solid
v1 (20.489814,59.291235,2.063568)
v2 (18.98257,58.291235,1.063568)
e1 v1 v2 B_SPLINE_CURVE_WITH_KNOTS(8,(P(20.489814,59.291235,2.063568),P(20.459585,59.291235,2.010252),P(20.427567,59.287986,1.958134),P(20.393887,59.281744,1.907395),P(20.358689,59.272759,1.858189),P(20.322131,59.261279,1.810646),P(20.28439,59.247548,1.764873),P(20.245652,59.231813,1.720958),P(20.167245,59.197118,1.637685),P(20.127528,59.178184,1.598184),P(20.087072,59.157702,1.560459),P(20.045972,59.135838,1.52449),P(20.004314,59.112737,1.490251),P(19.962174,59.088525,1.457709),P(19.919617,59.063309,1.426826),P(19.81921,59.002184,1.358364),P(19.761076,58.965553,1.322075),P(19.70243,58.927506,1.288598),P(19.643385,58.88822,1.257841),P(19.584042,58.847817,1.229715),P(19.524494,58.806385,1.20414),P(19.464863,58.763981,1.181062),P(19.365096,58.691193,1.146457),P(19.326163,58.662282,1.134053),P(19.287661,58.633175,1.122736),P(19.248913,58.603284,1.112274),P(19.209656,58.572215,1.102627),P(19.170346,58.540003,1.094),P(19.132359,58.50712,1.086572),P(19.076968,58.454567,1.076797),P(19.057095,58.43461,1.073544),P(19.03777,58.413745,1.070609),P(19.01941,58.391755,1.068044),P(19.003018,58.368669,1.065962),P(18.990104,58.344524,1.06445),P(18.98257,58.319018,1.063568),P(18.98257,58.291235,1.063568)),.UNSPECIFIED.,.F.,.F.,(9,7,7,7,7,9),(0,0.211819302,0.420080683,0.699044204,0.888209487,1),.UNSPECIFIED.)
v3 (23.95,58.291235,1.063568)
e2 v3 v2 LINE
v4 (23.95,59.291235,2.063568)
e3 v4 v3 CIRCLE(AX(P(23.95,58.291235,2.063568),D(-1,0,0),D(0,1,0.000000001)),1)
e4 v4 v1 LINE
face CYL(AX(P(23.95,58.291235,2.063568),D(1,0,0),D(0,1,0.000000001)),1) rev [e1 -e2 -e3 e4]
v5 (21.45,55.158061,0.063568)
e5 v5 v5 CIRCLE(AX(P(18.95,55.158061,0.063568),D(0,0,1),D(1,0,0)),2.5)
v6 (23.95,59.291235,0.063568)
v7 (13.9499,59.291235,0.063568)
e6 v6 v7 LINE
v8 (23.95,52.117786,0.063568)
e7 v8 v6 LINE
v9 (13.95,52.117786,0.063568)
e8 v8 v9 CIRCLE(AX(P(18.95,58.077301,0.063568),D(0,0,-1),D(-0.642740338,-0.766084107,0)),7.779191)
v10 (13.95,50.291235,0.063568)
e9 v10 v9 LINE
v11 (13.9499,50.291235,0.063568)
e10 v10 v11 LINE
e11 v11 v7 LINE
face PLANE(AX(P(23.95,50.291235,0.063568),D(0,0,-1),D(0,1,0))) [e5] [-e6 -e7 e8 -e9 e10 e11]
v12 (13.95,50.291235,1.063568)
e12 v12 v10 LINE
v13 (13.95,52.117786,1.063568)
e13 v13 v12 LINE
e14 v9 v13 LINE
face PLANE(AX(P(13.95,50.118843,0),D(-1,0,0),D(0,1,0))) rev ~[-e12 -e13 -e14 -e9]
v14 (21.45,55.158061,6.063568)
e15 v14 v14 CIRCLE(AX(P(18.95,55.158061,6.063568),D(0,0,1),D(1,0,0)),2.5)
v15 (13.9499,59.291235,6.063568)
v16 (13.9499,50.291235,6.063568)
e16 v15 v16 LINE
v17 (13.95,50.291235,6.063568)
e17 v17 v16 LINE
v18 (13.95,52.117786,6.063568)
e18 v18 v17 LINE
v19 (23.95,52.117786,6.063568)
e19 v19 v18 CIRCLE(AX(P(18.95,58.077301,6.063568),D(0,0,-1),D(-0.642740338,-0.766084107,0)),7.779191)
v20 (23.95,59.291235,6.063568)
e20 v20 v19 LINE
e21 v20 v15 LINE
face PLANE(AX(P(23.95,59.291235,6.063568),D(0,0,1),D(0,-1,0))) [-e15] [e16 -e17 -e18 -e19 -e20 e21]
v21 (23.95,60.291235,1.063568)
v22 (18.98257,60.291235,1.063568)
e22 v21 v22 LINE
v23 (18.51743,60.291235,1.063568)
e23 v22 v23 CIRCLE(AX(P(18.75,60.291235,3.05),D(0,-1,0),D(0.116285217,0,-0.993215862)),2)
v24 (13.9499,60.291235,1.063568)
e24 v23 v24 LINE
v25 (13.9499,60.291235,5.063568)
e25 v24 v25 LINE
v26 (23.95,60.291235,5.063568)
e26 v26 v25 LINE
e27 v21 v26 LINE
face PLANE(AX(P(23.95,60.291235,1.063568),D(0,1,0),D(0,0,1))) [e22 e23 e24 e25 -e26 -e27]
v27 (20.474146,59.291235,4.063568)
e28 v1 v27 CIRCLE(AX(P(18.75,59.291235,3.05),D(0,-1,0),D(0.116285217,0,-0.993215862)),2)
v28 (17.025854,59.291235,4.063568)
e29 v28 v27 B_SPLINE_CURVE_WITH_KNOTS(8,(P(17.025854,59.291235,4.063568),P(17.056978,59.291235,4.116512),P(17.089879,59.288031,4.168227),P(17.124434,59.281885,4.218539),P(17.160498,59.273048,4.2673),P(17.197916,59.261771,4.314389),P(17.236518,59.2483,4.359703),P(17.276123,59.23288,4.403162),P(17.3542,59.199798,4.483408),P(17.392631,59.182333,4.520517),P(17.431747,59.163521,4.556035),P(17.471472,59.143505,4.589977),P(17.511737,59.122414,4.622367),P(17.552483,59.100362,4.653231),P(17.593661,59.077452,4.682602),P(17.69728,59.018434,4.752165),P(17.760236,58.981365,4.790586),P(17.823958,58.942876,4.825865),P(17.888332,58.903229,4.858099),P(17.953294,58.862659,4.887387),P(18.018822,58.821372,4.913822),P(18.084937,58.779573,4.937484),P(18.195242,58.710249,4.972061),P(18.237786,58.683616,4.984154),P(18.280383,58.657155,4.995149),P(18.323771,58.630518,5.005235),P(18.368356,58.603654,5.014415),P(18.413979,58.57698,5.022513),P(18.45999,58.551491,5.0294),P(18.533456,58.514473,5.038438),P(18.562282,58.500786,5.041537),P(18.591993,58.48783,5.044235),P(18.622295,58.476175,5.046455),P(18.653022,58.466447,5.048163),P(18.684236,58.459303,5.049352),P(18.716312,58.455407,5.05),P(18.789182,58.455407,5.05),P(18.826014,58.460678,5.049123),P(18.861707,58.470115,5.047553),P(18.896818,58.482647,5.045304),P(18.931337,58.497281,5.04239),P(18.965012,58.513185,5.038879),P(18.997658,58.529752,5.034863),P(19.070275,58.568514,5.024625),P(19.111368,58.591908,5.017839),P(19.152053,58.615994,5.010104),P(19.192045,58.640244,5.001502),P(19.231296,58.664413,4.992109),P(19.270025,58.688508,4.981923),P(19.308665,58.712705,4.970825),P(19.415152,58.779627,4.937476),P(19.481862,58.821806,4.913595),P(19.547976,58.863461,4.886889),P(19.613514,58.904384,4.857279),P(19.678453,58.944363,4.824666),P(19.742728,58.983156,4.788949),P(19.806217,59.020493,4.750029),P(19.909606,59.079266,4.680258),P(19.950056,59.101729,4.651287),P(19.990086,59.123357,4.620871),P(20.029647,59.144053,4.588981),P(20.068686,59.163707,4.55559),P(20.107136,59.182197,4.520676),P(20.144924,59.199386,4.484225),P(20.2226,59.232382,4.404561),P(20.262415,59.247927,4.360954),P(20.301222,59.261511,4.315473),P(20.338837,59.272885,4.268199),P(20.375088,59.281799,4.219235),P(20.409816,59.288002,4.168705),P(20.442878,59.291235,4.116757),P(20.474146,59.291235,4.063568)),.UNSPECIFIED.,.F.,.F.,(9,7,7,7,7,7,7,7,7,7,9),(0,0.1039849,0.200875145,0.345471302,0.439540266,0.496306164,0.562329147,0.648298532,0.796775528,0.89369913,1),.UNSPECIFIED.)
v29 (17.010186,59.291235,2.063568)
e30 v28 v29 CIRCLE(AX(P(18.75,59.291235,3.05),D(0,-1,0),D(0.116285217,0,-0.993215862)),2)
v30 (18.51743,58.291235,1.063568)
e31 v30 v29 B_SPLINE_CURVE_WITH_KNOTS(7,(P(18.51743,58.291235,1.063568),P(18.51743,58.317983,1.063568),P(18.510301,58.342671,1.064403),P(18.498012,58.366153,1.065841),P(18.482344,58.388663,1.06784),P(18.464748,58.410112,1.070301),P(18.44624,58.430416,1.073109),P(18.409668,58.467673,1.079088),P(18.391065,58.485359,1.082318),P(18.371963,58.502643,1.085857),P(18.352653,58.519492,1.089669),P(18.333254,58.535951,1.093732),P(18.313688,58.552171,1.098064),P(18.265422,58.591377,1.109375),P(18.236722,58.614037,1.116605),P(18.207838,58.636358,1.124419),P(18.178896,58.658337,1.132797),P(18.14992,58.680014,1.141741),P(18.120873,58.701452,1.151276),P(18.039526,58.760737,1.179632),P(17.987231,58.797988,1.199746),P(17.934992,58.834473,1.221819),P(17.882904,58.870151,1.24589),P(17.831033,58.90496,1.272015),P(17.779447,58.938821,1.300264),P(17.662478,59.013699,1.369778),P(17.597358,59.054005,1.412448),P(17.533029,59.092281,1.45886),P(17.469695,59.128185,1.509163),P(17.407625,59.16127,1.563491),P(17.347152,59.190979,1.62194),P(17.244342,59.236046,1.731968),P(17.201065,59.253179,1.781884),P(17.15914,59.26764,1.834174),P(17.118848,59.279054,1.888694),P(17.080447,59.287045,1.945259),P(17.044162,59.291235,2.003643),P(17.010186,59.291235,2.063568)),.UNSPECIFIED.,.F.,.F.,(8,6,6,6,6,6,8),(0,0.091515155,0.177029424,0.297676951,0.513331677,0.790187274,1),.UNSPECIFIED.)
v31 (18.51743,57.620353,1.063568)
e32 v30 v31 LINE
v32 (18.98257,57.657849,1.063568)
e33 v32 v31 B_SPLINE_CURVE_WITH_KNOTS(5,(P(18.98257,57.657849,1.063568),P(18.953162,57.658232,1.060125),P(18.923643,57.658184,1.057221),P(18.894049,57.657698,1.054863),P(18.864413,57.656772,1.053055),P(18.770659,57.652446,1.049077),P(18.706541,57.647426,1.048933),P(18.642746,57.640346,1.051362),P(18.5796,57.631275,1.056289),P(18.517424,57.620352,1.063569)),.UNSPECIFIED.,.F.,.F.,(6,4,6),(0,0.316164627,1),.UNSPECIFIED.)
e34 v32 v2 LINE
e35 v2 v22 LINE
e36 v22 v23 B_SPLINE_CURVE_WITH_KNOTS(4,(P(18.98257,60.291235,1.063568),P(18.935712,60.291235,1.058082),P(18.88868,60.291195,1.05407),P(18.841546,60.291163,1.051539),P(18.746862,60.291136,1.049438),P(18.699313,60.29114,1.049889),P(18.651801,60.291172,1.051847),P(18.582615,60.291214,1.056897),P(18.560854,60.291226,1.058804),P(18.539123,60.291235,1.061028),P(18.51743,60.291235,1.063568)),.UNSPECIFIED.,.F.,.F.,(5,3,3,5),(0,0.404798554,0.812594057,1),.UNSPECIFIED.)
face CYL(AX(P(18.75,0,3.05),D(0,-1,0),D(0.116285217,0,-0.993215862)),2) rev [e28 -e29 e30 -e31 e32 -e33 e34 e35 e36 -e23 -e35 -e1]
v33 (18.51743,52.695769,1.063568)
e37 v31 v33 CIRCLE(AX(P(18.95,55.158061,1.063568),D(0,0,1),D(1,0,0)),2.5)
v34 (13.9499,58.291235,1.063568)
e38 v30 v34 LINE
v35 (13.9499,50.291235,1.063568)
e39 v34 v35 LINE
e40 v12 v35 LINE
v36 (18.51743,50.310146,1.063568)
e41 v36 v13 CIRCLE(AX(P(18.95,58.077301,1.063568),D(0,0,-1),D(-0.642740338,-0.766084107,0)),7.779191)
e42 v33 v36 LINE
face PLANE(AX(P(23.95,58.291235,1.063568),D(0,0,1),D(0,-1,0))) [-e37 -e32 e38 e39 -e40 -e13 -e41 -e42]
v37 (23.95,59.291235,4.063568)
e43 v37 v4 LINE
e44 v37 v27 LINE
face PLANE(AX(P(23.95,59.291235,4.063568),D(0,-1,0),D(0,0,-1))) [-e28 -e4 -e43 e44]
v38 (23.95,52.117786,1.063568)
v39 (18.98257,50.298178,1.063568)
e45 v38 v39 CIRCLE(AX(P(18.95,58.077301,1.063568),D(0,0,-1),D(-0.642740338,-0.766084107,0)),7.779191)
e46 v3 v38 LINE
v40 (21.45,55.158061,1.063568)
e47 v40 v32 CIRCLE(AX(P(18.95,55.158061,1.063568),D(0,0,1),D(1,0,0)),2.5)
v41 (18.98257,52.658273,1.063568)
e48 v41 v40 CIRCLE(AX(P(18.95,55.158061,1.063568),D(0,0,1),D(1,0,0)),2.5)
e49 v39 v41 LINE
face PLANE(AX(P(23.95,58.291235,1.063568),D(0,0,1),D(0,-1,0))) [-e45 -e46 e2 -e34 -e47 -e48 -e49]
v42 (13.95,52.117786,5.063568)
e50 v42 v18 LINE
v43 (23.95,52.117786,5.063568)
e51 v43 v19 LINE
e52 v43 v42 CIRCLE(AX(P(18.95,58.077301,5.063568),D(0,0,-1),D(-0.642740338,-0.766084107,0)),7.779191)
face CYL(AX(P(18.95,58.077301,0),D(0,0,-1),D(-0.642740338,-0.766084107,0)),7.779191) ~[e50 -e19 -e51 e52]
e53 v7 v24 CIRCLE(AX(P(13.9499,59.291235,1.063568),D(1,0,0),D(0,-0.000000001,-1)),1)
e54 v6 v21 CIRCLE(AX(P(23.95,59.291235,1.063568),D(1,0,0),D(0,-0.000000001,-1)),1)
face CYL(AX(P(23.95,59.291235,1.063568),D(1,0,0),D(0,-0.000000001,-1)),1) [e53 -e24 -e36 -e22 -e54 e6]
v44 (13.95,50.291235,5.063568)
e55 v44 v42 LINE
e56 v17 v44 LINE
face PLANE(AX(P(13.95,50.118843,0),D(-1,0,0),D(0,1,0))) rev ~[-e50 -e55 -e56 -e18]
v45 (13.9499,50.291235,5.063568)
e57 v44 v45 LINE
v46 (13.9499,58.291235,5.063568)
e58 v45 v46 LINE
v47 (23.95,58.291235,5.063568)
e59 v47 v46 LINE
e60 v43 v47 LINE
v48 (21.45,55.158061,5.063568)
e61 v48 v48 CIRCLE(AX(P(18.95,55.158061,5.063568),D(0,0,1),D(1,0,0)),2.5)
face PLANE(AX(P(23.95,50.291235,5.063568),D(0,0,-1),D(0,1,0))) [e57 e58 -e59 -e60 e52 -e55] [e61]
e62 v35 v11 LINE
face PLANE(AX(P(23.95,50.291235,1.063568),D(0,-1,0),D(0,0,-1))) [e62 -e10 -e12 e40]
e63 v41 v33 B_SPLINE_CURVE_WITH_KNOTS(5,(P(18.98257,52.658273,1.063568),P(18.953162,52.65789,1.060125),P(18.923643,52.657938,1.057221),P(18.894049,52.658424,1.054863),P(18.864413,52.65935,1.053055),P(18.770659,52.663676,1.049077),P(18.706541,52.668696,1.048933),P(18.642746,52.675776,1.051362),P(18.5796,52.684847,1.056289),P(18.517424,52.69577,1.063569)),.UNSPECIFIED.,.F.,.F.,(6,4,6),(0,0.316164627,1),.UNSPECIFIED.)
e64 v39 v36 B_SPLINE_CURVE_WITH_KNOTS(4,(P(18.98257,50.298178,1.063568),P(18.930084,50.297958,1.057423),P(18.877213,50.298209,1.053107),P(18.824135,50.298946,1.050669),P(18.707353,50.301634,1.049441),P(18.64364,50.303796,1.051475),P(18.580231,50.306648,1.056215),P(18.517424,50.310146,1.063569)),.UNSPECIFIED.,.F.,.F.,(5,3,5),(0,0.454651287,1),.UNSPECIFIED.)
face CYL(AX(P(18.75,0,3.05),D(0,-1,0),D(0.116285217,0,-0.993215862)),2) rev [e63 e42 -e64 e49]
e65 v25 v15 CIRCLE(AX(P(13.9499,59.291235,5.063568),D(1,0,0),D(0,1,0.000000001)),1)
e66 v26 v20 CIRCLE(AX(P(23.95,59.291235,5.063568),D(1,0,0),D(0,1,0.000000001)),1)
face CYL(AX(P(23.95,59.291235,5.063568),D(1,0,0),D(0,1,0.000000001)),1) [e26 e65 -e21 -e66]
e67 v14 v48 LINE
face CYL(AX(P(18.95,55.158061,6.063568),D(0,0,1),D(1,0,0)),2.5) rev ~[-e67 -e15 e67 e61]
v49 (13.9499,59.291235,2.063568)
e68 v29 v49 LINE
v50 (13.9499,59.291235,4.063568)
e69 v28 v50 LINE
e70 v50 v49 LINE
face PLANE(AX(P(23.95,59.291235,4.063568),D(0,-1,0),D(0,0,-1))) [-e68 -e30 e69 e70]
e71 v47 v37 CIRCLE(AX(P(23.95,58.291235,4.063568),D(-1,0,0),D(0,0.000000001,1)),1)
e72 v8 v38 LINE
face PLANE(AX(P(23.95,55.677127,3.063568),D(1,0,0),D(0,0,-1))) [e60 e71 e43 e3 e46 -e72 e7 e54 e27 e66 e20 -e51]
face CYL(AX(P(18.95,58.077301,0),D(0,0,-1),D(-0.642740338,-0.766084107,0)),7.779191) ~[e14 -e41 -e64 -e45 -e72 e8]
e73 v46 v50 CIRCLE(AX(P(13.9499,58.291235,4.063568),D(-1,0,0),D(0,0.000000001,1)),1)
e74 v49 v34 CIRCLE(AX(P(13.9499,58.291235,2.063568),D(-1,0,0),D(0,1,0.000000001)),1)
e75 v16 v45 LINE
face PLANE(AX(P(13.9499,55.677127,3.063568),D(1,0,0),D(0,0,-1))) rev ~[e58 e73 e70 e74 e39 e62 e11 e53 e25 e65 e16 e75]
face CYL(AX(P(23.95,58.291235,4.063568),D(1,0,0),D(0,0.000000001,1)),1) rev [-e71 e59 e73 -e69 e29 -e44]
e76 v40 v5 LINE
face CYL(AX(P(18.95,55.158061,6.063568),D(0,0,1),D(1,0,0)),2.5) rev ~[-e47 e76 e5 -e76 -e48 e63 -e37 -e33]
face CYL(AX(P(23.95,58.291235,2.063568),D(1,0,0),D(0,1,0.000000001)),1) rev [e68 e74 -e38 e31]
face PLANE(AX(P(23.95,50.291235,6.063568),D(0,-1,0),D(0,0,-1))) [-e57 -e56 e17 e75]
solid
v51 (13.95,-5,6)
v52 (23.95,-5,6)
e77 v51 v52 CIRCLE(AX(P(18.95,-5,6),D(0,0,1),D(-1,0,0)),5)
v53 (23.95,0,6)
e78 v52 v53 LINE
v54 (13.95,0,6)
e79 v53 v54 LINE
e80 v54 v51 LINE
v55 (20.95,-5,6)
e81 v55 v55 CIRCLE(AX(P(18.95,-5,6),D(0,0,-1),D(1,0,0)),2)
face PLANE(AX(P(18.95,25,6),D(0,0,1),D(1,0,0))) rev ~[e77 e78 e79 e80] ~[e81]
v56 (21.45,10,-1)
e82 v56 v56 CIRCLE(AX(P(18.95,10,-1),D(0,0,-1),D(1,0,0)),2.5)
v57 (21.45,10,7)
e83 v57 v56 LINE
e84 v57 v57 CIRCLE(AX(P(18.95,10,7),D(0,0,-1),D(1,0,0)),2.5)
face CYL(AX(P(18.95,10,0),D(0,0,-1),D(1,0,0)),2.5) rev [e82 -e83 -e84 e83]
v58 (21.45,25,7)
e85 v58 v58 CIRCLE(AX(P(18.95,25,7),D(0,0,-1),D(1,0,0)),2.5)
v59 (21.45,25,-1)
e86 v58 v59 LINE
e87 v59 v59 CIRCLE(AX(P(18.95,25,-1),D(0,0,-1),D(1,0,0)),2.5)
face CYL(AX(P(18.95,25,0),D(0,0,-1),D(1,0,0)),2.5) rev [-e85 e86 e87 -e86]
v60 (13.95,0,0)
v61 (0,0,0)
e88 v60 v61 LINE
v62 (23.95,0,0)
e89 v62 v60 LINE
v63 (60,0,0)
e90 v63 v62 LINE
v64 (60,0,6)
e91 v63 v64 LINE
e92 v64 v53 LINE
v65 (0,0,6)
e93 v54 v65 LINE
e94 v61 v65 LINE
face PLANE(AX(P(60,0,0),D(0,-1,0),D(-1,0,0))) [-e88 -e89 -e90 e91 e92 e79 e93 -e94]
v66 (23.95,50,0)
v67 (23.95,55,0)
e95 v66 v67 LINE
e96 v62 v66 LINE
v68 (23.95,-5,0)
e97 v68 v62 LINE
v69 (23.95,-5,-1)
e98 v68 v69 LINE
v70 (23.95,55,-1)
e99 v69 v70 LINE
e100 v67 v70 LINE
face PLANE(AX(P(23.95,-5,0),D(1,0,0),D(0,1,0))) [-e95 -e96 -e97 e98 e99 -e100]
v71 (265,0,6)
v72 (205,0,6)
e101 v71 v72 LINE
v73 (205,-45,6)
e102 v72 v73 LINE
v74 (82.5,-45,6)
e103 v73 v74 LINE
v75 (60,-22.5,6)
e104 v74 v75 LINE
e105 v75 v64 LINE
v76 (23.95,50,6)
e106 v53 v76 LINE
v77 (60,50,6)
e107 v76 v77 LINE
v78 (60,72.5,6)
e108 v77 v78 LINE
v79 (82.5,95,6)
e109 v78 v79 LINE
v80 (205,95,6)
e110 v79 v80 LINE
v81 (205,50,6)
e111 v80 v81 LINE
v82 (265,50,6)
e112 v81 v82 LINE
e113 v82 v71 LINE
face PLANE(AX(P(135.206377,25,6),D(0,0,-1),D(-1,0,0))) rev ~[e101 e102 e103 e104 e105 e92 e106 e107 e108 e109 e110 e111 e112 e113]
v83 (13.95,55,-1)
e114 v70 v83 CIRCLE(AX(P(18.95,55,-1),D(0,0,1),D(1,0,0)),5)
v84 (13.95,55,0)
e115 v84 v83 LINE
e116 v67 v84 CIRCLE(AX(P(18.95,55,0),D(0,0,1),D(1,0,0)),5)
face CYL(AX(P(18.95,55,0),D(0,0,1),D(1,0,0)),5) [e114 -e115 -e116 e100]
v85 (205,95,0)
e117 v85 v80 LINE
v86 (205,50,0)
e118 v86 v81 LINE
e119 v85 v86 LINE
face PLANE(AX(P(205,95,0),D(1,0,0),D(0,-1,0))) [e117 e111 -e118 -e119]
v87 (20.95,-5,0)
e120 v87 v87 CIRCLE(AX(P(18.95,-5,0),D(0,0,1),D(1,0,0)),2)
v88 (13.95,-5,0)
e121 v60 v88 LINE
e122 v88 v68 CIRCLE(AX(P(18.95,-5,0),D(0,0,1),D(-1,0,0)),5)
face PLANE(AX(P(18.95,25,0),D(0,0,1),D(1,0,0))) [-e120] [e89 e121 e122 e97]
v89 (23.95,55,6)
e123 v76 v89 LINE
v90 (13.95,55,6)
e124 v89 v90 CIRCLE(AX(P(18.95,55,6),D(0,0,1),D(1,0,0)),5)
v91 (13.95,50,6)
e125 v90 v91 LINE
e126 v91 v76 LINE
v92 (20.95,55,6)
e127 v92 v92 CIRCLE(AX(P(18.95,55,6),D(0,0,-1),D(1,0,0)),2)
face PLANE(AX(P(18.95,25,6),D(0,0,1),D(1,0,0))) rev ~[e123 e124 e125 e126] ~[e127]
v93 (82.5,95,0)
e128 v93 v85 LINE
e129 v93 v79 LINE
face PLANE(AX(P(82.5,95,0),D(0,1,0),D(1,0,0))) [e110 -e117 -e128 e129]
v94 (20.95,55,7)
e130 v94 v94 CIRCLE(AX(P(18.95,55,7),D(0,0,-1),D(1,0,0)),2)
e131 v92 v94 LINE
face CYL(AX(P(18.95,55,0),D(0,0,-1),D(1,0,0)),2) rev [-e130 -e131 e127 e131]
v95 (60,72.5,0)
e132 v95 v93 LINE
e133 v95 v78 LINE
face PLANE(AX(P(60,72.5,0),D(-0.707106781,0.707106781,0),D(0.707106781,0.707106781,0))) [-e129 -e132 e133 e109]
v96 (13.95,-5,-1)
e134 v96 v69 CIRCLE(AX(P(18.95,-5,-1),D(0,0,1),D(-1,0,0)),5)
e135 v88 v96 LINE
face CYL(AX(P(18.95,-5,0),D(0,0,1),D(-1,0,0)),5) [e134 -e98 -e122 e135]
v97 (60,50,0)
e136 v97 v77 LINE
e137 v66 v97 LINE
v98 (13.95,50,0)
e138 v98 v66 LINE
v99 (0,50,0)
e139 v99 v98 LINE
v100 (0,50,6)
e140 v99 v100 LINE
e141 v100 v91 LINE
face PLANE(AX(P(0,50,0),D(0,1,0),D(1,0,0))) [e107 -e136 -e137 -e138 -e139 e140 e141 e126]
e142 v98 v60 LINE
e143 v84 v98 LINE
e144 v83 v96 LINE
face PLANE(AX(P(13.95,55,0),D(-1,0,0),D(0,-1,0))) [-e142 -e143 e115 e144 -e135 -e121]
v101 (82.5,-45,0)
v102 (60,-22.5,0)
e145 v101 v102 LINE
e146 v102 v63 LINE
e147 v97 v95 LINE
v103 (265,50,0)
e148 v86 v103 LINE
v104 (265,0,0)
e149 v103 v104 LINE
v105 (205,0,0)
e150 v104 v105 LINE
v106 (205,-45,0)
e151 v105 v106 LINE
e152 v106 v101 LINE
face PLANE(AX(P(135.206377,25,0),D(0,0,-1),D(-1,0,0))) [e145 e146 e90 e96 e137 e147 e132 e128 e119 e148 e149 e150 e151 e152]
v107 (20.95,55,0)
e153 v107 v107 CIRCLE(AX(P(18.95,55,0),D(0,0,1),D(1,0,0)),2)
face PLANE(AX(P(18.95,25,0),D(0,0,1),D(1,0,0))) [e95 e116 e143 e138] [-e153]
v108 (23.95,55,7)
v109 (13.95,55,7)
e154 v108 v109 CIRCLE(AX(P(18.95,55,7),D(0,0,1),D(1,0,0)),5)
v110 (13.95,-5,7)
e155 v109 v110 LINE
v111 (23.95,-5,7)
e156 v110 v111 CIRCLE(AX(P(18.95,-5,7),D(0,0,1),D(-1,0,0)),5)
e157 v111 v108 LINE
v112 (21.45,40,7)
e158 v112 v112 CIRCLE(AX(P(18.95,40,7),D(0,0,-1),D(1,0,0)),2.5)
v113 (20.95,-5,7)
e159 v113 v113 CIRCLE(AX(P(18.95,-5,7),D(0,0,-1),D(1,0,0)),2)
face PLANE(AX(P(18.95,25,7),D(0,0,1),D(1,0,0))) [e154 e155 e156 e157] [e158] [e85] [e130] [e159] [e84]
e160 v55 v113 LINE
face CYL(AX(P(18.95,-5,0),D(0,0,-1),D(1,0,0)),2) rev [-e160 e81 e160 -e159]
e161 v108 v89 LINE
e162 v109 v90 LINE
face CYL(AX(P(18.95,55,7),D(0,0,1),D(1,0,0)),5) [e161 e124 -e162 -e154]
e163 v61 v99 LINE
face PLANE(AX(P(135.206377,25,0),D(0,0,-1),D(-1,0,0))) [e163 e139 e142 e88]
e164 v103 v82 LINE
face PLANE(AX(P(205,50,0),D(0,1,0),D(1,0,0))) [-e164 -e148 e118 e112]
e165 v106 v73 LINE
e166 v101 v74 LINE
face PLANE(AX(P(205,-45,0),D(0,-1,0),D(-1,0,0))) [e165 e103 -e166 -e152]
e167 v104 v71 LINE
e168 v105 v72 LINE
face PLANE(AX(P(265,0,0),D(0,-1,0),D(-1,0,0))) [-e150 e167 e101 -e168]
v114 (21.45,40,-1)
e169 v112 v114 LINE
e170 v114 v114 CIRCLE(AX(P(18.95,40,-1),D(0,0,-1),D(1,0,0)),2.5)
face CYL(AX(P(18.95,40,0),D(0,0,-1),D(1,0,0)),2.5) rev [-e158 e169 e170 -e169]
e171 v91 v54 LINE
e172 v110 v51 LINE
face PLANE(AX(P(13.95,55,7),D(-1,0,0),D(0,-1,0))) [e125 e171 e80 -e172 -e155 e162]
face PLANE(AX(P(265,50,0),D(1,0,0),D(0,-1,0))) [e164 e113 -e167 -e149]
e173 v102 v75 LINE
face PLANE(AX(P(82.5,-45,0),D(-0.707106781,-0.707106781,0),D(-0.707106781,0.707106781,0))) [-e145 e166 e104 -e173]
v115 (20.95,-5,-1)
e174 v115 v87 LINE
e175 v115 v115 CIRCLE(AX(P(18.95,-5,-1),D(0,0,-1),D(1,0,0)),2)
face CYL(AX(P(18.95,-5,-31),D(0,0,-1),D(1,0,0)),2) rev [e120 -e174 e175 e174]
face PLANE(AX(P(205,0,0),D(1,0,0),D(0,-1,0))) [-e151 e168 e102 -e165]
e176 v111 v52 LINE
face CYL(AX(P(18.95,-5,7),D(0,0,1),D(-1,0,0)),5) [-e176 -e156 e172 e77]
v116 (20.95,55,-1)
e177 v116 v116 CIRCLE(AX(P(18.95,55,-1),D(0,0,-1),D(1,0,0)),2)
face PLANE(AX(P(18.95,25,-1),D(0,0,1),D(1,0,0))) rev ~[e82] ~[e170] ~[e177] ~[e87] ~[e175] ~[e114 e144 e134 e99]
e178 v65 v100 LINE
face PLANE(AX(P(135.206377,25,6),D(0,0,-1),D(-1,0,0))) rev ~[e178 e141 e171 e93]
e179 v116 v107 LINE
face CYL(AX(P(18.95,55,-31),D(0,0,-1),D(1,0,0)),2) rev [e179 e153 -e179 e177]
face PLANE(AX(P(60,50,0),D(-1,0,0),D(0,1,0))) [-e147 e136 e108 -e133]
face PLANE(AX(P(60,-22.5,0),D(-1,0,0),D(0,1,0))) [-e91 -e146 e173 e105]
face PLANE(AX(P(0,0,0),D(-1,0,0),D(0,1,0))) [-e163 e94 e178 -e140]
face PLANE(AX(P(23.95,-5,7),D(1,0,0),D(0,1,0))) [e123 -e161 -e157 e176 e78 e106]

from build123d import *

# Parameters (mm, degrees)
EXTRUDE_2_DEPTH        = 6
EXTRUDE_3_DEPTH        = 1
PATTERN_LINEAR_1_COUNT = 2
PATTERN_LINEAR_1_PITCH = 7
SKETCH_12_2_R          = 2
SKETCH_12_2_R_2        = 2.5
CUT_EXTRUDE_2_DEPTH    = 31
CUT_EXTRUDE_START      = -31
SKETCH_12_3_R          = 2
SKETCH_12_3_R_2        = 2.5
CUT_EXTRUDE_3_DEPTH    = 31
EXTRUDE_4_DEPTH        = 0.0001
EXTRUDE_4_DEPTH_BACK   = 10
SKETCH_15_6_R          = 2.5
CUT_EXTRUDE_21_DEPTH   = 30
CUT_EXTRUDE_25_DEPTH   = 30
SKETCH_37_R            = 2
CUT_EXTRUDE_28_DEPTH   = 150


with BuildPart() as part:
    # Эскиз4<2> → Бобышка-Вытянуть2 (new body)
    with BuildSketch(Plane.XY):
        Polygon((0, 0), (0, 50), (60, 50), (60, 72.5), (82.5, 95), (205, 95), (205, 50), (265, 50), (265, 0), (205, 0), (205, -45), (82.5, -45), (60, -22.5), (60, 0), align=None)
    extrude(amount=EXTRUDE_2_DEPTH)

    # Эскиз7<2> → Бобышка-Вытянуть3 (add)
    with BuildSketch(Plane.XY):
        with BuildLine():
            Line((13.95, 55), (13.95, -5))
            ThreePointArc((13.95, -5), (18.95, -10), (23.95, -5))
            Line((23.95, -5), (23.95, 55))
            ThreePointArc((23.95, 55), (18.95, 60), (13.95, 55))
        make_face()
    extrude_3 = extrude(amount=-EXTRUDE_3_DEPTH)

    # Линейный массив1: Бобышка-Вытянуть3 ×2
    with Locations(*[(0, 0, i * PATTERN_LINEAR_1_PITCH) for i in range(1, PATTERN_LINEAR_1_COUNT)]):
        add(extrude_3)

    # Эскиз12<2> → Вырез-Вытянуть2 (cut)
    with BuildSketch(Plane.XY):
        with Locations((18.95, 55)):
            Circle(SKETCH_12_2_R)
        with Locations((18.95, 25)):
            Circle(SKETCH_12_2_R_2)
        with Locations((18.95, 10)):
            Circle(SKETCH_12_2_R_2)
        with Locations((18.95, -5)):
            Circle(SKETCH_12_2_R)
        with Locations((18.95, 40)):
            Circle(SKETCH_12_2_R_2)
    extrude(amount=CUT_EXTRUDE_2_DEPTH, mode=Mode.SUBTRACT)

    # Эскиз12<3> → Вырез-Вытянуть3 (cut)
    with BuildSketch(Plane.XY.offset(CUT_EXTRUDE_START)):
        with Locations((18.95, 55)):
            Circle(SKETCH_12_3_R)
        with Locations((18.95, 40)):
            Circle(SKETCH_12_3_R_2)
        with Locations((18.95, 25)):
            Circle(SKETCH_12_3_R_2)
        with Locations((18.95, 10)):
            Circle(SKETCH_12_3_R_2)
        with Locations((18.95, -5)):
            Circle(SKETCH_12_3_R)
    extrude(amount=CUT_EXTRUDE_3_DEPTH, mode=Mode.SUBTRACT)


with BuildPart() as body_2:
    # Эскиз14 → Бобышка-Вытянуть4 (new, two sides: drawn at the far end of the back side and taken through both)
    with BuildSketch(Plane(origin=(13.95, 61.855423186, -9.080381405), x_dir=(0, 0, 1), z_dir=(-1, 0, 0)).offset(-EXTRUDE_4_DEPTH_BACK)):
        with BuildLine():
            Line((9.143949682, -11.564188361), (9.143949682, -6.564188361))
            Line((9.143949682, -6.564188361), (9.143949682, -2.564188361))
            ThreePointArc((9.143949682, -2.564188361), (9.4368429, -1.85708158), (10.143949682, -1.564188361))
            Line((10.143949682, -1.564188361), (14.143949682, -1.564188361))
            ThreePointArc((14.143949682, -1.564188361), (14.851056463, -1.85708158), (15.143949682, -2.564188361))
            Line((15.143949682, -2.564188361), (15.143949682, -11.564188361))
            Line((15.143949682, -11.564188361), (14.143949682, -11.564188361))
            Line((14.143949682, -11.564188361), (14.143949682, -3.564188361))
            ThreePointArc((14.143949682, -3.564188361), (13.851056463, -2.85708158), (13.143949682, -2.564188361))
            Line((13.143949682, -2.564188361), (11.143949682, -2.564188361))
            ThreePointArc((11.143949682, -2.564188361), (10.4368429, -2.85708158), (10.143949682, -3.564188361))
            Line((10.143949682, -3.564188361), (10.143949682, -11.564188361))
            Line((10.143949682, -11.564188361), (9.143949682, -11.564188361))
        make_face()
    extrude(amount=EXTRUDE_4_DEPTH + EXTRUDE_4_DEPTH_BACK)

    # Эскиз15<6> → Вырез-Вытянуть21 (cut)
    with BuildSketch(Plane(origin=(13.95, 55.158060944, 6.063568276), x_dir=(1, 0, 0), z_dir=(0, 0, 1))):
        with Locations((5, 0)):
            Circle(SKETCH_15_6_R)
    extrude(amount=-CUT_EXTRUDE_21_DEPTH, mode=Mode.SUBTRACT)

    # Эскиз36 → Вырез-Вытянуть25 (cut)
    with BuildSketch(Plane.XY):
        with BuildLine():
            Line((13.95, 50.118842572), (13.95, 52.117785958))
            ThreePointArc((13.95, 52.117785958), (18.95, 50.298109491), (23.95, 52.117785958))
            Line((23.95, 52.117785958), (23.95, 50.118842572))
            Line((23.95, 50.118842572), (13.95, 50.118842572))
        make_face()
    extrude(amount=CUT_EXTRUDE_25_DEPTH, mode=Mode.SUBTRACT)

    # Эскиз37 → Вырез-Вытянуть28 (cut)
    with BuildSketch(Plane(origin=(0, 0, 0), x_dir=(1, 0, 0), z_dir=(0, 1, 0))):
        with Locations(Location((18.75, -3.05, 0), (0, 0, 83.322240049))):
            Circle(SKETCH_37_R)
    extrude(amount=CUT_EXTRUDE_28_DEPTH, mode=Mode.SUBTRACT)


solid = Compound([part.part, body_2.part])
